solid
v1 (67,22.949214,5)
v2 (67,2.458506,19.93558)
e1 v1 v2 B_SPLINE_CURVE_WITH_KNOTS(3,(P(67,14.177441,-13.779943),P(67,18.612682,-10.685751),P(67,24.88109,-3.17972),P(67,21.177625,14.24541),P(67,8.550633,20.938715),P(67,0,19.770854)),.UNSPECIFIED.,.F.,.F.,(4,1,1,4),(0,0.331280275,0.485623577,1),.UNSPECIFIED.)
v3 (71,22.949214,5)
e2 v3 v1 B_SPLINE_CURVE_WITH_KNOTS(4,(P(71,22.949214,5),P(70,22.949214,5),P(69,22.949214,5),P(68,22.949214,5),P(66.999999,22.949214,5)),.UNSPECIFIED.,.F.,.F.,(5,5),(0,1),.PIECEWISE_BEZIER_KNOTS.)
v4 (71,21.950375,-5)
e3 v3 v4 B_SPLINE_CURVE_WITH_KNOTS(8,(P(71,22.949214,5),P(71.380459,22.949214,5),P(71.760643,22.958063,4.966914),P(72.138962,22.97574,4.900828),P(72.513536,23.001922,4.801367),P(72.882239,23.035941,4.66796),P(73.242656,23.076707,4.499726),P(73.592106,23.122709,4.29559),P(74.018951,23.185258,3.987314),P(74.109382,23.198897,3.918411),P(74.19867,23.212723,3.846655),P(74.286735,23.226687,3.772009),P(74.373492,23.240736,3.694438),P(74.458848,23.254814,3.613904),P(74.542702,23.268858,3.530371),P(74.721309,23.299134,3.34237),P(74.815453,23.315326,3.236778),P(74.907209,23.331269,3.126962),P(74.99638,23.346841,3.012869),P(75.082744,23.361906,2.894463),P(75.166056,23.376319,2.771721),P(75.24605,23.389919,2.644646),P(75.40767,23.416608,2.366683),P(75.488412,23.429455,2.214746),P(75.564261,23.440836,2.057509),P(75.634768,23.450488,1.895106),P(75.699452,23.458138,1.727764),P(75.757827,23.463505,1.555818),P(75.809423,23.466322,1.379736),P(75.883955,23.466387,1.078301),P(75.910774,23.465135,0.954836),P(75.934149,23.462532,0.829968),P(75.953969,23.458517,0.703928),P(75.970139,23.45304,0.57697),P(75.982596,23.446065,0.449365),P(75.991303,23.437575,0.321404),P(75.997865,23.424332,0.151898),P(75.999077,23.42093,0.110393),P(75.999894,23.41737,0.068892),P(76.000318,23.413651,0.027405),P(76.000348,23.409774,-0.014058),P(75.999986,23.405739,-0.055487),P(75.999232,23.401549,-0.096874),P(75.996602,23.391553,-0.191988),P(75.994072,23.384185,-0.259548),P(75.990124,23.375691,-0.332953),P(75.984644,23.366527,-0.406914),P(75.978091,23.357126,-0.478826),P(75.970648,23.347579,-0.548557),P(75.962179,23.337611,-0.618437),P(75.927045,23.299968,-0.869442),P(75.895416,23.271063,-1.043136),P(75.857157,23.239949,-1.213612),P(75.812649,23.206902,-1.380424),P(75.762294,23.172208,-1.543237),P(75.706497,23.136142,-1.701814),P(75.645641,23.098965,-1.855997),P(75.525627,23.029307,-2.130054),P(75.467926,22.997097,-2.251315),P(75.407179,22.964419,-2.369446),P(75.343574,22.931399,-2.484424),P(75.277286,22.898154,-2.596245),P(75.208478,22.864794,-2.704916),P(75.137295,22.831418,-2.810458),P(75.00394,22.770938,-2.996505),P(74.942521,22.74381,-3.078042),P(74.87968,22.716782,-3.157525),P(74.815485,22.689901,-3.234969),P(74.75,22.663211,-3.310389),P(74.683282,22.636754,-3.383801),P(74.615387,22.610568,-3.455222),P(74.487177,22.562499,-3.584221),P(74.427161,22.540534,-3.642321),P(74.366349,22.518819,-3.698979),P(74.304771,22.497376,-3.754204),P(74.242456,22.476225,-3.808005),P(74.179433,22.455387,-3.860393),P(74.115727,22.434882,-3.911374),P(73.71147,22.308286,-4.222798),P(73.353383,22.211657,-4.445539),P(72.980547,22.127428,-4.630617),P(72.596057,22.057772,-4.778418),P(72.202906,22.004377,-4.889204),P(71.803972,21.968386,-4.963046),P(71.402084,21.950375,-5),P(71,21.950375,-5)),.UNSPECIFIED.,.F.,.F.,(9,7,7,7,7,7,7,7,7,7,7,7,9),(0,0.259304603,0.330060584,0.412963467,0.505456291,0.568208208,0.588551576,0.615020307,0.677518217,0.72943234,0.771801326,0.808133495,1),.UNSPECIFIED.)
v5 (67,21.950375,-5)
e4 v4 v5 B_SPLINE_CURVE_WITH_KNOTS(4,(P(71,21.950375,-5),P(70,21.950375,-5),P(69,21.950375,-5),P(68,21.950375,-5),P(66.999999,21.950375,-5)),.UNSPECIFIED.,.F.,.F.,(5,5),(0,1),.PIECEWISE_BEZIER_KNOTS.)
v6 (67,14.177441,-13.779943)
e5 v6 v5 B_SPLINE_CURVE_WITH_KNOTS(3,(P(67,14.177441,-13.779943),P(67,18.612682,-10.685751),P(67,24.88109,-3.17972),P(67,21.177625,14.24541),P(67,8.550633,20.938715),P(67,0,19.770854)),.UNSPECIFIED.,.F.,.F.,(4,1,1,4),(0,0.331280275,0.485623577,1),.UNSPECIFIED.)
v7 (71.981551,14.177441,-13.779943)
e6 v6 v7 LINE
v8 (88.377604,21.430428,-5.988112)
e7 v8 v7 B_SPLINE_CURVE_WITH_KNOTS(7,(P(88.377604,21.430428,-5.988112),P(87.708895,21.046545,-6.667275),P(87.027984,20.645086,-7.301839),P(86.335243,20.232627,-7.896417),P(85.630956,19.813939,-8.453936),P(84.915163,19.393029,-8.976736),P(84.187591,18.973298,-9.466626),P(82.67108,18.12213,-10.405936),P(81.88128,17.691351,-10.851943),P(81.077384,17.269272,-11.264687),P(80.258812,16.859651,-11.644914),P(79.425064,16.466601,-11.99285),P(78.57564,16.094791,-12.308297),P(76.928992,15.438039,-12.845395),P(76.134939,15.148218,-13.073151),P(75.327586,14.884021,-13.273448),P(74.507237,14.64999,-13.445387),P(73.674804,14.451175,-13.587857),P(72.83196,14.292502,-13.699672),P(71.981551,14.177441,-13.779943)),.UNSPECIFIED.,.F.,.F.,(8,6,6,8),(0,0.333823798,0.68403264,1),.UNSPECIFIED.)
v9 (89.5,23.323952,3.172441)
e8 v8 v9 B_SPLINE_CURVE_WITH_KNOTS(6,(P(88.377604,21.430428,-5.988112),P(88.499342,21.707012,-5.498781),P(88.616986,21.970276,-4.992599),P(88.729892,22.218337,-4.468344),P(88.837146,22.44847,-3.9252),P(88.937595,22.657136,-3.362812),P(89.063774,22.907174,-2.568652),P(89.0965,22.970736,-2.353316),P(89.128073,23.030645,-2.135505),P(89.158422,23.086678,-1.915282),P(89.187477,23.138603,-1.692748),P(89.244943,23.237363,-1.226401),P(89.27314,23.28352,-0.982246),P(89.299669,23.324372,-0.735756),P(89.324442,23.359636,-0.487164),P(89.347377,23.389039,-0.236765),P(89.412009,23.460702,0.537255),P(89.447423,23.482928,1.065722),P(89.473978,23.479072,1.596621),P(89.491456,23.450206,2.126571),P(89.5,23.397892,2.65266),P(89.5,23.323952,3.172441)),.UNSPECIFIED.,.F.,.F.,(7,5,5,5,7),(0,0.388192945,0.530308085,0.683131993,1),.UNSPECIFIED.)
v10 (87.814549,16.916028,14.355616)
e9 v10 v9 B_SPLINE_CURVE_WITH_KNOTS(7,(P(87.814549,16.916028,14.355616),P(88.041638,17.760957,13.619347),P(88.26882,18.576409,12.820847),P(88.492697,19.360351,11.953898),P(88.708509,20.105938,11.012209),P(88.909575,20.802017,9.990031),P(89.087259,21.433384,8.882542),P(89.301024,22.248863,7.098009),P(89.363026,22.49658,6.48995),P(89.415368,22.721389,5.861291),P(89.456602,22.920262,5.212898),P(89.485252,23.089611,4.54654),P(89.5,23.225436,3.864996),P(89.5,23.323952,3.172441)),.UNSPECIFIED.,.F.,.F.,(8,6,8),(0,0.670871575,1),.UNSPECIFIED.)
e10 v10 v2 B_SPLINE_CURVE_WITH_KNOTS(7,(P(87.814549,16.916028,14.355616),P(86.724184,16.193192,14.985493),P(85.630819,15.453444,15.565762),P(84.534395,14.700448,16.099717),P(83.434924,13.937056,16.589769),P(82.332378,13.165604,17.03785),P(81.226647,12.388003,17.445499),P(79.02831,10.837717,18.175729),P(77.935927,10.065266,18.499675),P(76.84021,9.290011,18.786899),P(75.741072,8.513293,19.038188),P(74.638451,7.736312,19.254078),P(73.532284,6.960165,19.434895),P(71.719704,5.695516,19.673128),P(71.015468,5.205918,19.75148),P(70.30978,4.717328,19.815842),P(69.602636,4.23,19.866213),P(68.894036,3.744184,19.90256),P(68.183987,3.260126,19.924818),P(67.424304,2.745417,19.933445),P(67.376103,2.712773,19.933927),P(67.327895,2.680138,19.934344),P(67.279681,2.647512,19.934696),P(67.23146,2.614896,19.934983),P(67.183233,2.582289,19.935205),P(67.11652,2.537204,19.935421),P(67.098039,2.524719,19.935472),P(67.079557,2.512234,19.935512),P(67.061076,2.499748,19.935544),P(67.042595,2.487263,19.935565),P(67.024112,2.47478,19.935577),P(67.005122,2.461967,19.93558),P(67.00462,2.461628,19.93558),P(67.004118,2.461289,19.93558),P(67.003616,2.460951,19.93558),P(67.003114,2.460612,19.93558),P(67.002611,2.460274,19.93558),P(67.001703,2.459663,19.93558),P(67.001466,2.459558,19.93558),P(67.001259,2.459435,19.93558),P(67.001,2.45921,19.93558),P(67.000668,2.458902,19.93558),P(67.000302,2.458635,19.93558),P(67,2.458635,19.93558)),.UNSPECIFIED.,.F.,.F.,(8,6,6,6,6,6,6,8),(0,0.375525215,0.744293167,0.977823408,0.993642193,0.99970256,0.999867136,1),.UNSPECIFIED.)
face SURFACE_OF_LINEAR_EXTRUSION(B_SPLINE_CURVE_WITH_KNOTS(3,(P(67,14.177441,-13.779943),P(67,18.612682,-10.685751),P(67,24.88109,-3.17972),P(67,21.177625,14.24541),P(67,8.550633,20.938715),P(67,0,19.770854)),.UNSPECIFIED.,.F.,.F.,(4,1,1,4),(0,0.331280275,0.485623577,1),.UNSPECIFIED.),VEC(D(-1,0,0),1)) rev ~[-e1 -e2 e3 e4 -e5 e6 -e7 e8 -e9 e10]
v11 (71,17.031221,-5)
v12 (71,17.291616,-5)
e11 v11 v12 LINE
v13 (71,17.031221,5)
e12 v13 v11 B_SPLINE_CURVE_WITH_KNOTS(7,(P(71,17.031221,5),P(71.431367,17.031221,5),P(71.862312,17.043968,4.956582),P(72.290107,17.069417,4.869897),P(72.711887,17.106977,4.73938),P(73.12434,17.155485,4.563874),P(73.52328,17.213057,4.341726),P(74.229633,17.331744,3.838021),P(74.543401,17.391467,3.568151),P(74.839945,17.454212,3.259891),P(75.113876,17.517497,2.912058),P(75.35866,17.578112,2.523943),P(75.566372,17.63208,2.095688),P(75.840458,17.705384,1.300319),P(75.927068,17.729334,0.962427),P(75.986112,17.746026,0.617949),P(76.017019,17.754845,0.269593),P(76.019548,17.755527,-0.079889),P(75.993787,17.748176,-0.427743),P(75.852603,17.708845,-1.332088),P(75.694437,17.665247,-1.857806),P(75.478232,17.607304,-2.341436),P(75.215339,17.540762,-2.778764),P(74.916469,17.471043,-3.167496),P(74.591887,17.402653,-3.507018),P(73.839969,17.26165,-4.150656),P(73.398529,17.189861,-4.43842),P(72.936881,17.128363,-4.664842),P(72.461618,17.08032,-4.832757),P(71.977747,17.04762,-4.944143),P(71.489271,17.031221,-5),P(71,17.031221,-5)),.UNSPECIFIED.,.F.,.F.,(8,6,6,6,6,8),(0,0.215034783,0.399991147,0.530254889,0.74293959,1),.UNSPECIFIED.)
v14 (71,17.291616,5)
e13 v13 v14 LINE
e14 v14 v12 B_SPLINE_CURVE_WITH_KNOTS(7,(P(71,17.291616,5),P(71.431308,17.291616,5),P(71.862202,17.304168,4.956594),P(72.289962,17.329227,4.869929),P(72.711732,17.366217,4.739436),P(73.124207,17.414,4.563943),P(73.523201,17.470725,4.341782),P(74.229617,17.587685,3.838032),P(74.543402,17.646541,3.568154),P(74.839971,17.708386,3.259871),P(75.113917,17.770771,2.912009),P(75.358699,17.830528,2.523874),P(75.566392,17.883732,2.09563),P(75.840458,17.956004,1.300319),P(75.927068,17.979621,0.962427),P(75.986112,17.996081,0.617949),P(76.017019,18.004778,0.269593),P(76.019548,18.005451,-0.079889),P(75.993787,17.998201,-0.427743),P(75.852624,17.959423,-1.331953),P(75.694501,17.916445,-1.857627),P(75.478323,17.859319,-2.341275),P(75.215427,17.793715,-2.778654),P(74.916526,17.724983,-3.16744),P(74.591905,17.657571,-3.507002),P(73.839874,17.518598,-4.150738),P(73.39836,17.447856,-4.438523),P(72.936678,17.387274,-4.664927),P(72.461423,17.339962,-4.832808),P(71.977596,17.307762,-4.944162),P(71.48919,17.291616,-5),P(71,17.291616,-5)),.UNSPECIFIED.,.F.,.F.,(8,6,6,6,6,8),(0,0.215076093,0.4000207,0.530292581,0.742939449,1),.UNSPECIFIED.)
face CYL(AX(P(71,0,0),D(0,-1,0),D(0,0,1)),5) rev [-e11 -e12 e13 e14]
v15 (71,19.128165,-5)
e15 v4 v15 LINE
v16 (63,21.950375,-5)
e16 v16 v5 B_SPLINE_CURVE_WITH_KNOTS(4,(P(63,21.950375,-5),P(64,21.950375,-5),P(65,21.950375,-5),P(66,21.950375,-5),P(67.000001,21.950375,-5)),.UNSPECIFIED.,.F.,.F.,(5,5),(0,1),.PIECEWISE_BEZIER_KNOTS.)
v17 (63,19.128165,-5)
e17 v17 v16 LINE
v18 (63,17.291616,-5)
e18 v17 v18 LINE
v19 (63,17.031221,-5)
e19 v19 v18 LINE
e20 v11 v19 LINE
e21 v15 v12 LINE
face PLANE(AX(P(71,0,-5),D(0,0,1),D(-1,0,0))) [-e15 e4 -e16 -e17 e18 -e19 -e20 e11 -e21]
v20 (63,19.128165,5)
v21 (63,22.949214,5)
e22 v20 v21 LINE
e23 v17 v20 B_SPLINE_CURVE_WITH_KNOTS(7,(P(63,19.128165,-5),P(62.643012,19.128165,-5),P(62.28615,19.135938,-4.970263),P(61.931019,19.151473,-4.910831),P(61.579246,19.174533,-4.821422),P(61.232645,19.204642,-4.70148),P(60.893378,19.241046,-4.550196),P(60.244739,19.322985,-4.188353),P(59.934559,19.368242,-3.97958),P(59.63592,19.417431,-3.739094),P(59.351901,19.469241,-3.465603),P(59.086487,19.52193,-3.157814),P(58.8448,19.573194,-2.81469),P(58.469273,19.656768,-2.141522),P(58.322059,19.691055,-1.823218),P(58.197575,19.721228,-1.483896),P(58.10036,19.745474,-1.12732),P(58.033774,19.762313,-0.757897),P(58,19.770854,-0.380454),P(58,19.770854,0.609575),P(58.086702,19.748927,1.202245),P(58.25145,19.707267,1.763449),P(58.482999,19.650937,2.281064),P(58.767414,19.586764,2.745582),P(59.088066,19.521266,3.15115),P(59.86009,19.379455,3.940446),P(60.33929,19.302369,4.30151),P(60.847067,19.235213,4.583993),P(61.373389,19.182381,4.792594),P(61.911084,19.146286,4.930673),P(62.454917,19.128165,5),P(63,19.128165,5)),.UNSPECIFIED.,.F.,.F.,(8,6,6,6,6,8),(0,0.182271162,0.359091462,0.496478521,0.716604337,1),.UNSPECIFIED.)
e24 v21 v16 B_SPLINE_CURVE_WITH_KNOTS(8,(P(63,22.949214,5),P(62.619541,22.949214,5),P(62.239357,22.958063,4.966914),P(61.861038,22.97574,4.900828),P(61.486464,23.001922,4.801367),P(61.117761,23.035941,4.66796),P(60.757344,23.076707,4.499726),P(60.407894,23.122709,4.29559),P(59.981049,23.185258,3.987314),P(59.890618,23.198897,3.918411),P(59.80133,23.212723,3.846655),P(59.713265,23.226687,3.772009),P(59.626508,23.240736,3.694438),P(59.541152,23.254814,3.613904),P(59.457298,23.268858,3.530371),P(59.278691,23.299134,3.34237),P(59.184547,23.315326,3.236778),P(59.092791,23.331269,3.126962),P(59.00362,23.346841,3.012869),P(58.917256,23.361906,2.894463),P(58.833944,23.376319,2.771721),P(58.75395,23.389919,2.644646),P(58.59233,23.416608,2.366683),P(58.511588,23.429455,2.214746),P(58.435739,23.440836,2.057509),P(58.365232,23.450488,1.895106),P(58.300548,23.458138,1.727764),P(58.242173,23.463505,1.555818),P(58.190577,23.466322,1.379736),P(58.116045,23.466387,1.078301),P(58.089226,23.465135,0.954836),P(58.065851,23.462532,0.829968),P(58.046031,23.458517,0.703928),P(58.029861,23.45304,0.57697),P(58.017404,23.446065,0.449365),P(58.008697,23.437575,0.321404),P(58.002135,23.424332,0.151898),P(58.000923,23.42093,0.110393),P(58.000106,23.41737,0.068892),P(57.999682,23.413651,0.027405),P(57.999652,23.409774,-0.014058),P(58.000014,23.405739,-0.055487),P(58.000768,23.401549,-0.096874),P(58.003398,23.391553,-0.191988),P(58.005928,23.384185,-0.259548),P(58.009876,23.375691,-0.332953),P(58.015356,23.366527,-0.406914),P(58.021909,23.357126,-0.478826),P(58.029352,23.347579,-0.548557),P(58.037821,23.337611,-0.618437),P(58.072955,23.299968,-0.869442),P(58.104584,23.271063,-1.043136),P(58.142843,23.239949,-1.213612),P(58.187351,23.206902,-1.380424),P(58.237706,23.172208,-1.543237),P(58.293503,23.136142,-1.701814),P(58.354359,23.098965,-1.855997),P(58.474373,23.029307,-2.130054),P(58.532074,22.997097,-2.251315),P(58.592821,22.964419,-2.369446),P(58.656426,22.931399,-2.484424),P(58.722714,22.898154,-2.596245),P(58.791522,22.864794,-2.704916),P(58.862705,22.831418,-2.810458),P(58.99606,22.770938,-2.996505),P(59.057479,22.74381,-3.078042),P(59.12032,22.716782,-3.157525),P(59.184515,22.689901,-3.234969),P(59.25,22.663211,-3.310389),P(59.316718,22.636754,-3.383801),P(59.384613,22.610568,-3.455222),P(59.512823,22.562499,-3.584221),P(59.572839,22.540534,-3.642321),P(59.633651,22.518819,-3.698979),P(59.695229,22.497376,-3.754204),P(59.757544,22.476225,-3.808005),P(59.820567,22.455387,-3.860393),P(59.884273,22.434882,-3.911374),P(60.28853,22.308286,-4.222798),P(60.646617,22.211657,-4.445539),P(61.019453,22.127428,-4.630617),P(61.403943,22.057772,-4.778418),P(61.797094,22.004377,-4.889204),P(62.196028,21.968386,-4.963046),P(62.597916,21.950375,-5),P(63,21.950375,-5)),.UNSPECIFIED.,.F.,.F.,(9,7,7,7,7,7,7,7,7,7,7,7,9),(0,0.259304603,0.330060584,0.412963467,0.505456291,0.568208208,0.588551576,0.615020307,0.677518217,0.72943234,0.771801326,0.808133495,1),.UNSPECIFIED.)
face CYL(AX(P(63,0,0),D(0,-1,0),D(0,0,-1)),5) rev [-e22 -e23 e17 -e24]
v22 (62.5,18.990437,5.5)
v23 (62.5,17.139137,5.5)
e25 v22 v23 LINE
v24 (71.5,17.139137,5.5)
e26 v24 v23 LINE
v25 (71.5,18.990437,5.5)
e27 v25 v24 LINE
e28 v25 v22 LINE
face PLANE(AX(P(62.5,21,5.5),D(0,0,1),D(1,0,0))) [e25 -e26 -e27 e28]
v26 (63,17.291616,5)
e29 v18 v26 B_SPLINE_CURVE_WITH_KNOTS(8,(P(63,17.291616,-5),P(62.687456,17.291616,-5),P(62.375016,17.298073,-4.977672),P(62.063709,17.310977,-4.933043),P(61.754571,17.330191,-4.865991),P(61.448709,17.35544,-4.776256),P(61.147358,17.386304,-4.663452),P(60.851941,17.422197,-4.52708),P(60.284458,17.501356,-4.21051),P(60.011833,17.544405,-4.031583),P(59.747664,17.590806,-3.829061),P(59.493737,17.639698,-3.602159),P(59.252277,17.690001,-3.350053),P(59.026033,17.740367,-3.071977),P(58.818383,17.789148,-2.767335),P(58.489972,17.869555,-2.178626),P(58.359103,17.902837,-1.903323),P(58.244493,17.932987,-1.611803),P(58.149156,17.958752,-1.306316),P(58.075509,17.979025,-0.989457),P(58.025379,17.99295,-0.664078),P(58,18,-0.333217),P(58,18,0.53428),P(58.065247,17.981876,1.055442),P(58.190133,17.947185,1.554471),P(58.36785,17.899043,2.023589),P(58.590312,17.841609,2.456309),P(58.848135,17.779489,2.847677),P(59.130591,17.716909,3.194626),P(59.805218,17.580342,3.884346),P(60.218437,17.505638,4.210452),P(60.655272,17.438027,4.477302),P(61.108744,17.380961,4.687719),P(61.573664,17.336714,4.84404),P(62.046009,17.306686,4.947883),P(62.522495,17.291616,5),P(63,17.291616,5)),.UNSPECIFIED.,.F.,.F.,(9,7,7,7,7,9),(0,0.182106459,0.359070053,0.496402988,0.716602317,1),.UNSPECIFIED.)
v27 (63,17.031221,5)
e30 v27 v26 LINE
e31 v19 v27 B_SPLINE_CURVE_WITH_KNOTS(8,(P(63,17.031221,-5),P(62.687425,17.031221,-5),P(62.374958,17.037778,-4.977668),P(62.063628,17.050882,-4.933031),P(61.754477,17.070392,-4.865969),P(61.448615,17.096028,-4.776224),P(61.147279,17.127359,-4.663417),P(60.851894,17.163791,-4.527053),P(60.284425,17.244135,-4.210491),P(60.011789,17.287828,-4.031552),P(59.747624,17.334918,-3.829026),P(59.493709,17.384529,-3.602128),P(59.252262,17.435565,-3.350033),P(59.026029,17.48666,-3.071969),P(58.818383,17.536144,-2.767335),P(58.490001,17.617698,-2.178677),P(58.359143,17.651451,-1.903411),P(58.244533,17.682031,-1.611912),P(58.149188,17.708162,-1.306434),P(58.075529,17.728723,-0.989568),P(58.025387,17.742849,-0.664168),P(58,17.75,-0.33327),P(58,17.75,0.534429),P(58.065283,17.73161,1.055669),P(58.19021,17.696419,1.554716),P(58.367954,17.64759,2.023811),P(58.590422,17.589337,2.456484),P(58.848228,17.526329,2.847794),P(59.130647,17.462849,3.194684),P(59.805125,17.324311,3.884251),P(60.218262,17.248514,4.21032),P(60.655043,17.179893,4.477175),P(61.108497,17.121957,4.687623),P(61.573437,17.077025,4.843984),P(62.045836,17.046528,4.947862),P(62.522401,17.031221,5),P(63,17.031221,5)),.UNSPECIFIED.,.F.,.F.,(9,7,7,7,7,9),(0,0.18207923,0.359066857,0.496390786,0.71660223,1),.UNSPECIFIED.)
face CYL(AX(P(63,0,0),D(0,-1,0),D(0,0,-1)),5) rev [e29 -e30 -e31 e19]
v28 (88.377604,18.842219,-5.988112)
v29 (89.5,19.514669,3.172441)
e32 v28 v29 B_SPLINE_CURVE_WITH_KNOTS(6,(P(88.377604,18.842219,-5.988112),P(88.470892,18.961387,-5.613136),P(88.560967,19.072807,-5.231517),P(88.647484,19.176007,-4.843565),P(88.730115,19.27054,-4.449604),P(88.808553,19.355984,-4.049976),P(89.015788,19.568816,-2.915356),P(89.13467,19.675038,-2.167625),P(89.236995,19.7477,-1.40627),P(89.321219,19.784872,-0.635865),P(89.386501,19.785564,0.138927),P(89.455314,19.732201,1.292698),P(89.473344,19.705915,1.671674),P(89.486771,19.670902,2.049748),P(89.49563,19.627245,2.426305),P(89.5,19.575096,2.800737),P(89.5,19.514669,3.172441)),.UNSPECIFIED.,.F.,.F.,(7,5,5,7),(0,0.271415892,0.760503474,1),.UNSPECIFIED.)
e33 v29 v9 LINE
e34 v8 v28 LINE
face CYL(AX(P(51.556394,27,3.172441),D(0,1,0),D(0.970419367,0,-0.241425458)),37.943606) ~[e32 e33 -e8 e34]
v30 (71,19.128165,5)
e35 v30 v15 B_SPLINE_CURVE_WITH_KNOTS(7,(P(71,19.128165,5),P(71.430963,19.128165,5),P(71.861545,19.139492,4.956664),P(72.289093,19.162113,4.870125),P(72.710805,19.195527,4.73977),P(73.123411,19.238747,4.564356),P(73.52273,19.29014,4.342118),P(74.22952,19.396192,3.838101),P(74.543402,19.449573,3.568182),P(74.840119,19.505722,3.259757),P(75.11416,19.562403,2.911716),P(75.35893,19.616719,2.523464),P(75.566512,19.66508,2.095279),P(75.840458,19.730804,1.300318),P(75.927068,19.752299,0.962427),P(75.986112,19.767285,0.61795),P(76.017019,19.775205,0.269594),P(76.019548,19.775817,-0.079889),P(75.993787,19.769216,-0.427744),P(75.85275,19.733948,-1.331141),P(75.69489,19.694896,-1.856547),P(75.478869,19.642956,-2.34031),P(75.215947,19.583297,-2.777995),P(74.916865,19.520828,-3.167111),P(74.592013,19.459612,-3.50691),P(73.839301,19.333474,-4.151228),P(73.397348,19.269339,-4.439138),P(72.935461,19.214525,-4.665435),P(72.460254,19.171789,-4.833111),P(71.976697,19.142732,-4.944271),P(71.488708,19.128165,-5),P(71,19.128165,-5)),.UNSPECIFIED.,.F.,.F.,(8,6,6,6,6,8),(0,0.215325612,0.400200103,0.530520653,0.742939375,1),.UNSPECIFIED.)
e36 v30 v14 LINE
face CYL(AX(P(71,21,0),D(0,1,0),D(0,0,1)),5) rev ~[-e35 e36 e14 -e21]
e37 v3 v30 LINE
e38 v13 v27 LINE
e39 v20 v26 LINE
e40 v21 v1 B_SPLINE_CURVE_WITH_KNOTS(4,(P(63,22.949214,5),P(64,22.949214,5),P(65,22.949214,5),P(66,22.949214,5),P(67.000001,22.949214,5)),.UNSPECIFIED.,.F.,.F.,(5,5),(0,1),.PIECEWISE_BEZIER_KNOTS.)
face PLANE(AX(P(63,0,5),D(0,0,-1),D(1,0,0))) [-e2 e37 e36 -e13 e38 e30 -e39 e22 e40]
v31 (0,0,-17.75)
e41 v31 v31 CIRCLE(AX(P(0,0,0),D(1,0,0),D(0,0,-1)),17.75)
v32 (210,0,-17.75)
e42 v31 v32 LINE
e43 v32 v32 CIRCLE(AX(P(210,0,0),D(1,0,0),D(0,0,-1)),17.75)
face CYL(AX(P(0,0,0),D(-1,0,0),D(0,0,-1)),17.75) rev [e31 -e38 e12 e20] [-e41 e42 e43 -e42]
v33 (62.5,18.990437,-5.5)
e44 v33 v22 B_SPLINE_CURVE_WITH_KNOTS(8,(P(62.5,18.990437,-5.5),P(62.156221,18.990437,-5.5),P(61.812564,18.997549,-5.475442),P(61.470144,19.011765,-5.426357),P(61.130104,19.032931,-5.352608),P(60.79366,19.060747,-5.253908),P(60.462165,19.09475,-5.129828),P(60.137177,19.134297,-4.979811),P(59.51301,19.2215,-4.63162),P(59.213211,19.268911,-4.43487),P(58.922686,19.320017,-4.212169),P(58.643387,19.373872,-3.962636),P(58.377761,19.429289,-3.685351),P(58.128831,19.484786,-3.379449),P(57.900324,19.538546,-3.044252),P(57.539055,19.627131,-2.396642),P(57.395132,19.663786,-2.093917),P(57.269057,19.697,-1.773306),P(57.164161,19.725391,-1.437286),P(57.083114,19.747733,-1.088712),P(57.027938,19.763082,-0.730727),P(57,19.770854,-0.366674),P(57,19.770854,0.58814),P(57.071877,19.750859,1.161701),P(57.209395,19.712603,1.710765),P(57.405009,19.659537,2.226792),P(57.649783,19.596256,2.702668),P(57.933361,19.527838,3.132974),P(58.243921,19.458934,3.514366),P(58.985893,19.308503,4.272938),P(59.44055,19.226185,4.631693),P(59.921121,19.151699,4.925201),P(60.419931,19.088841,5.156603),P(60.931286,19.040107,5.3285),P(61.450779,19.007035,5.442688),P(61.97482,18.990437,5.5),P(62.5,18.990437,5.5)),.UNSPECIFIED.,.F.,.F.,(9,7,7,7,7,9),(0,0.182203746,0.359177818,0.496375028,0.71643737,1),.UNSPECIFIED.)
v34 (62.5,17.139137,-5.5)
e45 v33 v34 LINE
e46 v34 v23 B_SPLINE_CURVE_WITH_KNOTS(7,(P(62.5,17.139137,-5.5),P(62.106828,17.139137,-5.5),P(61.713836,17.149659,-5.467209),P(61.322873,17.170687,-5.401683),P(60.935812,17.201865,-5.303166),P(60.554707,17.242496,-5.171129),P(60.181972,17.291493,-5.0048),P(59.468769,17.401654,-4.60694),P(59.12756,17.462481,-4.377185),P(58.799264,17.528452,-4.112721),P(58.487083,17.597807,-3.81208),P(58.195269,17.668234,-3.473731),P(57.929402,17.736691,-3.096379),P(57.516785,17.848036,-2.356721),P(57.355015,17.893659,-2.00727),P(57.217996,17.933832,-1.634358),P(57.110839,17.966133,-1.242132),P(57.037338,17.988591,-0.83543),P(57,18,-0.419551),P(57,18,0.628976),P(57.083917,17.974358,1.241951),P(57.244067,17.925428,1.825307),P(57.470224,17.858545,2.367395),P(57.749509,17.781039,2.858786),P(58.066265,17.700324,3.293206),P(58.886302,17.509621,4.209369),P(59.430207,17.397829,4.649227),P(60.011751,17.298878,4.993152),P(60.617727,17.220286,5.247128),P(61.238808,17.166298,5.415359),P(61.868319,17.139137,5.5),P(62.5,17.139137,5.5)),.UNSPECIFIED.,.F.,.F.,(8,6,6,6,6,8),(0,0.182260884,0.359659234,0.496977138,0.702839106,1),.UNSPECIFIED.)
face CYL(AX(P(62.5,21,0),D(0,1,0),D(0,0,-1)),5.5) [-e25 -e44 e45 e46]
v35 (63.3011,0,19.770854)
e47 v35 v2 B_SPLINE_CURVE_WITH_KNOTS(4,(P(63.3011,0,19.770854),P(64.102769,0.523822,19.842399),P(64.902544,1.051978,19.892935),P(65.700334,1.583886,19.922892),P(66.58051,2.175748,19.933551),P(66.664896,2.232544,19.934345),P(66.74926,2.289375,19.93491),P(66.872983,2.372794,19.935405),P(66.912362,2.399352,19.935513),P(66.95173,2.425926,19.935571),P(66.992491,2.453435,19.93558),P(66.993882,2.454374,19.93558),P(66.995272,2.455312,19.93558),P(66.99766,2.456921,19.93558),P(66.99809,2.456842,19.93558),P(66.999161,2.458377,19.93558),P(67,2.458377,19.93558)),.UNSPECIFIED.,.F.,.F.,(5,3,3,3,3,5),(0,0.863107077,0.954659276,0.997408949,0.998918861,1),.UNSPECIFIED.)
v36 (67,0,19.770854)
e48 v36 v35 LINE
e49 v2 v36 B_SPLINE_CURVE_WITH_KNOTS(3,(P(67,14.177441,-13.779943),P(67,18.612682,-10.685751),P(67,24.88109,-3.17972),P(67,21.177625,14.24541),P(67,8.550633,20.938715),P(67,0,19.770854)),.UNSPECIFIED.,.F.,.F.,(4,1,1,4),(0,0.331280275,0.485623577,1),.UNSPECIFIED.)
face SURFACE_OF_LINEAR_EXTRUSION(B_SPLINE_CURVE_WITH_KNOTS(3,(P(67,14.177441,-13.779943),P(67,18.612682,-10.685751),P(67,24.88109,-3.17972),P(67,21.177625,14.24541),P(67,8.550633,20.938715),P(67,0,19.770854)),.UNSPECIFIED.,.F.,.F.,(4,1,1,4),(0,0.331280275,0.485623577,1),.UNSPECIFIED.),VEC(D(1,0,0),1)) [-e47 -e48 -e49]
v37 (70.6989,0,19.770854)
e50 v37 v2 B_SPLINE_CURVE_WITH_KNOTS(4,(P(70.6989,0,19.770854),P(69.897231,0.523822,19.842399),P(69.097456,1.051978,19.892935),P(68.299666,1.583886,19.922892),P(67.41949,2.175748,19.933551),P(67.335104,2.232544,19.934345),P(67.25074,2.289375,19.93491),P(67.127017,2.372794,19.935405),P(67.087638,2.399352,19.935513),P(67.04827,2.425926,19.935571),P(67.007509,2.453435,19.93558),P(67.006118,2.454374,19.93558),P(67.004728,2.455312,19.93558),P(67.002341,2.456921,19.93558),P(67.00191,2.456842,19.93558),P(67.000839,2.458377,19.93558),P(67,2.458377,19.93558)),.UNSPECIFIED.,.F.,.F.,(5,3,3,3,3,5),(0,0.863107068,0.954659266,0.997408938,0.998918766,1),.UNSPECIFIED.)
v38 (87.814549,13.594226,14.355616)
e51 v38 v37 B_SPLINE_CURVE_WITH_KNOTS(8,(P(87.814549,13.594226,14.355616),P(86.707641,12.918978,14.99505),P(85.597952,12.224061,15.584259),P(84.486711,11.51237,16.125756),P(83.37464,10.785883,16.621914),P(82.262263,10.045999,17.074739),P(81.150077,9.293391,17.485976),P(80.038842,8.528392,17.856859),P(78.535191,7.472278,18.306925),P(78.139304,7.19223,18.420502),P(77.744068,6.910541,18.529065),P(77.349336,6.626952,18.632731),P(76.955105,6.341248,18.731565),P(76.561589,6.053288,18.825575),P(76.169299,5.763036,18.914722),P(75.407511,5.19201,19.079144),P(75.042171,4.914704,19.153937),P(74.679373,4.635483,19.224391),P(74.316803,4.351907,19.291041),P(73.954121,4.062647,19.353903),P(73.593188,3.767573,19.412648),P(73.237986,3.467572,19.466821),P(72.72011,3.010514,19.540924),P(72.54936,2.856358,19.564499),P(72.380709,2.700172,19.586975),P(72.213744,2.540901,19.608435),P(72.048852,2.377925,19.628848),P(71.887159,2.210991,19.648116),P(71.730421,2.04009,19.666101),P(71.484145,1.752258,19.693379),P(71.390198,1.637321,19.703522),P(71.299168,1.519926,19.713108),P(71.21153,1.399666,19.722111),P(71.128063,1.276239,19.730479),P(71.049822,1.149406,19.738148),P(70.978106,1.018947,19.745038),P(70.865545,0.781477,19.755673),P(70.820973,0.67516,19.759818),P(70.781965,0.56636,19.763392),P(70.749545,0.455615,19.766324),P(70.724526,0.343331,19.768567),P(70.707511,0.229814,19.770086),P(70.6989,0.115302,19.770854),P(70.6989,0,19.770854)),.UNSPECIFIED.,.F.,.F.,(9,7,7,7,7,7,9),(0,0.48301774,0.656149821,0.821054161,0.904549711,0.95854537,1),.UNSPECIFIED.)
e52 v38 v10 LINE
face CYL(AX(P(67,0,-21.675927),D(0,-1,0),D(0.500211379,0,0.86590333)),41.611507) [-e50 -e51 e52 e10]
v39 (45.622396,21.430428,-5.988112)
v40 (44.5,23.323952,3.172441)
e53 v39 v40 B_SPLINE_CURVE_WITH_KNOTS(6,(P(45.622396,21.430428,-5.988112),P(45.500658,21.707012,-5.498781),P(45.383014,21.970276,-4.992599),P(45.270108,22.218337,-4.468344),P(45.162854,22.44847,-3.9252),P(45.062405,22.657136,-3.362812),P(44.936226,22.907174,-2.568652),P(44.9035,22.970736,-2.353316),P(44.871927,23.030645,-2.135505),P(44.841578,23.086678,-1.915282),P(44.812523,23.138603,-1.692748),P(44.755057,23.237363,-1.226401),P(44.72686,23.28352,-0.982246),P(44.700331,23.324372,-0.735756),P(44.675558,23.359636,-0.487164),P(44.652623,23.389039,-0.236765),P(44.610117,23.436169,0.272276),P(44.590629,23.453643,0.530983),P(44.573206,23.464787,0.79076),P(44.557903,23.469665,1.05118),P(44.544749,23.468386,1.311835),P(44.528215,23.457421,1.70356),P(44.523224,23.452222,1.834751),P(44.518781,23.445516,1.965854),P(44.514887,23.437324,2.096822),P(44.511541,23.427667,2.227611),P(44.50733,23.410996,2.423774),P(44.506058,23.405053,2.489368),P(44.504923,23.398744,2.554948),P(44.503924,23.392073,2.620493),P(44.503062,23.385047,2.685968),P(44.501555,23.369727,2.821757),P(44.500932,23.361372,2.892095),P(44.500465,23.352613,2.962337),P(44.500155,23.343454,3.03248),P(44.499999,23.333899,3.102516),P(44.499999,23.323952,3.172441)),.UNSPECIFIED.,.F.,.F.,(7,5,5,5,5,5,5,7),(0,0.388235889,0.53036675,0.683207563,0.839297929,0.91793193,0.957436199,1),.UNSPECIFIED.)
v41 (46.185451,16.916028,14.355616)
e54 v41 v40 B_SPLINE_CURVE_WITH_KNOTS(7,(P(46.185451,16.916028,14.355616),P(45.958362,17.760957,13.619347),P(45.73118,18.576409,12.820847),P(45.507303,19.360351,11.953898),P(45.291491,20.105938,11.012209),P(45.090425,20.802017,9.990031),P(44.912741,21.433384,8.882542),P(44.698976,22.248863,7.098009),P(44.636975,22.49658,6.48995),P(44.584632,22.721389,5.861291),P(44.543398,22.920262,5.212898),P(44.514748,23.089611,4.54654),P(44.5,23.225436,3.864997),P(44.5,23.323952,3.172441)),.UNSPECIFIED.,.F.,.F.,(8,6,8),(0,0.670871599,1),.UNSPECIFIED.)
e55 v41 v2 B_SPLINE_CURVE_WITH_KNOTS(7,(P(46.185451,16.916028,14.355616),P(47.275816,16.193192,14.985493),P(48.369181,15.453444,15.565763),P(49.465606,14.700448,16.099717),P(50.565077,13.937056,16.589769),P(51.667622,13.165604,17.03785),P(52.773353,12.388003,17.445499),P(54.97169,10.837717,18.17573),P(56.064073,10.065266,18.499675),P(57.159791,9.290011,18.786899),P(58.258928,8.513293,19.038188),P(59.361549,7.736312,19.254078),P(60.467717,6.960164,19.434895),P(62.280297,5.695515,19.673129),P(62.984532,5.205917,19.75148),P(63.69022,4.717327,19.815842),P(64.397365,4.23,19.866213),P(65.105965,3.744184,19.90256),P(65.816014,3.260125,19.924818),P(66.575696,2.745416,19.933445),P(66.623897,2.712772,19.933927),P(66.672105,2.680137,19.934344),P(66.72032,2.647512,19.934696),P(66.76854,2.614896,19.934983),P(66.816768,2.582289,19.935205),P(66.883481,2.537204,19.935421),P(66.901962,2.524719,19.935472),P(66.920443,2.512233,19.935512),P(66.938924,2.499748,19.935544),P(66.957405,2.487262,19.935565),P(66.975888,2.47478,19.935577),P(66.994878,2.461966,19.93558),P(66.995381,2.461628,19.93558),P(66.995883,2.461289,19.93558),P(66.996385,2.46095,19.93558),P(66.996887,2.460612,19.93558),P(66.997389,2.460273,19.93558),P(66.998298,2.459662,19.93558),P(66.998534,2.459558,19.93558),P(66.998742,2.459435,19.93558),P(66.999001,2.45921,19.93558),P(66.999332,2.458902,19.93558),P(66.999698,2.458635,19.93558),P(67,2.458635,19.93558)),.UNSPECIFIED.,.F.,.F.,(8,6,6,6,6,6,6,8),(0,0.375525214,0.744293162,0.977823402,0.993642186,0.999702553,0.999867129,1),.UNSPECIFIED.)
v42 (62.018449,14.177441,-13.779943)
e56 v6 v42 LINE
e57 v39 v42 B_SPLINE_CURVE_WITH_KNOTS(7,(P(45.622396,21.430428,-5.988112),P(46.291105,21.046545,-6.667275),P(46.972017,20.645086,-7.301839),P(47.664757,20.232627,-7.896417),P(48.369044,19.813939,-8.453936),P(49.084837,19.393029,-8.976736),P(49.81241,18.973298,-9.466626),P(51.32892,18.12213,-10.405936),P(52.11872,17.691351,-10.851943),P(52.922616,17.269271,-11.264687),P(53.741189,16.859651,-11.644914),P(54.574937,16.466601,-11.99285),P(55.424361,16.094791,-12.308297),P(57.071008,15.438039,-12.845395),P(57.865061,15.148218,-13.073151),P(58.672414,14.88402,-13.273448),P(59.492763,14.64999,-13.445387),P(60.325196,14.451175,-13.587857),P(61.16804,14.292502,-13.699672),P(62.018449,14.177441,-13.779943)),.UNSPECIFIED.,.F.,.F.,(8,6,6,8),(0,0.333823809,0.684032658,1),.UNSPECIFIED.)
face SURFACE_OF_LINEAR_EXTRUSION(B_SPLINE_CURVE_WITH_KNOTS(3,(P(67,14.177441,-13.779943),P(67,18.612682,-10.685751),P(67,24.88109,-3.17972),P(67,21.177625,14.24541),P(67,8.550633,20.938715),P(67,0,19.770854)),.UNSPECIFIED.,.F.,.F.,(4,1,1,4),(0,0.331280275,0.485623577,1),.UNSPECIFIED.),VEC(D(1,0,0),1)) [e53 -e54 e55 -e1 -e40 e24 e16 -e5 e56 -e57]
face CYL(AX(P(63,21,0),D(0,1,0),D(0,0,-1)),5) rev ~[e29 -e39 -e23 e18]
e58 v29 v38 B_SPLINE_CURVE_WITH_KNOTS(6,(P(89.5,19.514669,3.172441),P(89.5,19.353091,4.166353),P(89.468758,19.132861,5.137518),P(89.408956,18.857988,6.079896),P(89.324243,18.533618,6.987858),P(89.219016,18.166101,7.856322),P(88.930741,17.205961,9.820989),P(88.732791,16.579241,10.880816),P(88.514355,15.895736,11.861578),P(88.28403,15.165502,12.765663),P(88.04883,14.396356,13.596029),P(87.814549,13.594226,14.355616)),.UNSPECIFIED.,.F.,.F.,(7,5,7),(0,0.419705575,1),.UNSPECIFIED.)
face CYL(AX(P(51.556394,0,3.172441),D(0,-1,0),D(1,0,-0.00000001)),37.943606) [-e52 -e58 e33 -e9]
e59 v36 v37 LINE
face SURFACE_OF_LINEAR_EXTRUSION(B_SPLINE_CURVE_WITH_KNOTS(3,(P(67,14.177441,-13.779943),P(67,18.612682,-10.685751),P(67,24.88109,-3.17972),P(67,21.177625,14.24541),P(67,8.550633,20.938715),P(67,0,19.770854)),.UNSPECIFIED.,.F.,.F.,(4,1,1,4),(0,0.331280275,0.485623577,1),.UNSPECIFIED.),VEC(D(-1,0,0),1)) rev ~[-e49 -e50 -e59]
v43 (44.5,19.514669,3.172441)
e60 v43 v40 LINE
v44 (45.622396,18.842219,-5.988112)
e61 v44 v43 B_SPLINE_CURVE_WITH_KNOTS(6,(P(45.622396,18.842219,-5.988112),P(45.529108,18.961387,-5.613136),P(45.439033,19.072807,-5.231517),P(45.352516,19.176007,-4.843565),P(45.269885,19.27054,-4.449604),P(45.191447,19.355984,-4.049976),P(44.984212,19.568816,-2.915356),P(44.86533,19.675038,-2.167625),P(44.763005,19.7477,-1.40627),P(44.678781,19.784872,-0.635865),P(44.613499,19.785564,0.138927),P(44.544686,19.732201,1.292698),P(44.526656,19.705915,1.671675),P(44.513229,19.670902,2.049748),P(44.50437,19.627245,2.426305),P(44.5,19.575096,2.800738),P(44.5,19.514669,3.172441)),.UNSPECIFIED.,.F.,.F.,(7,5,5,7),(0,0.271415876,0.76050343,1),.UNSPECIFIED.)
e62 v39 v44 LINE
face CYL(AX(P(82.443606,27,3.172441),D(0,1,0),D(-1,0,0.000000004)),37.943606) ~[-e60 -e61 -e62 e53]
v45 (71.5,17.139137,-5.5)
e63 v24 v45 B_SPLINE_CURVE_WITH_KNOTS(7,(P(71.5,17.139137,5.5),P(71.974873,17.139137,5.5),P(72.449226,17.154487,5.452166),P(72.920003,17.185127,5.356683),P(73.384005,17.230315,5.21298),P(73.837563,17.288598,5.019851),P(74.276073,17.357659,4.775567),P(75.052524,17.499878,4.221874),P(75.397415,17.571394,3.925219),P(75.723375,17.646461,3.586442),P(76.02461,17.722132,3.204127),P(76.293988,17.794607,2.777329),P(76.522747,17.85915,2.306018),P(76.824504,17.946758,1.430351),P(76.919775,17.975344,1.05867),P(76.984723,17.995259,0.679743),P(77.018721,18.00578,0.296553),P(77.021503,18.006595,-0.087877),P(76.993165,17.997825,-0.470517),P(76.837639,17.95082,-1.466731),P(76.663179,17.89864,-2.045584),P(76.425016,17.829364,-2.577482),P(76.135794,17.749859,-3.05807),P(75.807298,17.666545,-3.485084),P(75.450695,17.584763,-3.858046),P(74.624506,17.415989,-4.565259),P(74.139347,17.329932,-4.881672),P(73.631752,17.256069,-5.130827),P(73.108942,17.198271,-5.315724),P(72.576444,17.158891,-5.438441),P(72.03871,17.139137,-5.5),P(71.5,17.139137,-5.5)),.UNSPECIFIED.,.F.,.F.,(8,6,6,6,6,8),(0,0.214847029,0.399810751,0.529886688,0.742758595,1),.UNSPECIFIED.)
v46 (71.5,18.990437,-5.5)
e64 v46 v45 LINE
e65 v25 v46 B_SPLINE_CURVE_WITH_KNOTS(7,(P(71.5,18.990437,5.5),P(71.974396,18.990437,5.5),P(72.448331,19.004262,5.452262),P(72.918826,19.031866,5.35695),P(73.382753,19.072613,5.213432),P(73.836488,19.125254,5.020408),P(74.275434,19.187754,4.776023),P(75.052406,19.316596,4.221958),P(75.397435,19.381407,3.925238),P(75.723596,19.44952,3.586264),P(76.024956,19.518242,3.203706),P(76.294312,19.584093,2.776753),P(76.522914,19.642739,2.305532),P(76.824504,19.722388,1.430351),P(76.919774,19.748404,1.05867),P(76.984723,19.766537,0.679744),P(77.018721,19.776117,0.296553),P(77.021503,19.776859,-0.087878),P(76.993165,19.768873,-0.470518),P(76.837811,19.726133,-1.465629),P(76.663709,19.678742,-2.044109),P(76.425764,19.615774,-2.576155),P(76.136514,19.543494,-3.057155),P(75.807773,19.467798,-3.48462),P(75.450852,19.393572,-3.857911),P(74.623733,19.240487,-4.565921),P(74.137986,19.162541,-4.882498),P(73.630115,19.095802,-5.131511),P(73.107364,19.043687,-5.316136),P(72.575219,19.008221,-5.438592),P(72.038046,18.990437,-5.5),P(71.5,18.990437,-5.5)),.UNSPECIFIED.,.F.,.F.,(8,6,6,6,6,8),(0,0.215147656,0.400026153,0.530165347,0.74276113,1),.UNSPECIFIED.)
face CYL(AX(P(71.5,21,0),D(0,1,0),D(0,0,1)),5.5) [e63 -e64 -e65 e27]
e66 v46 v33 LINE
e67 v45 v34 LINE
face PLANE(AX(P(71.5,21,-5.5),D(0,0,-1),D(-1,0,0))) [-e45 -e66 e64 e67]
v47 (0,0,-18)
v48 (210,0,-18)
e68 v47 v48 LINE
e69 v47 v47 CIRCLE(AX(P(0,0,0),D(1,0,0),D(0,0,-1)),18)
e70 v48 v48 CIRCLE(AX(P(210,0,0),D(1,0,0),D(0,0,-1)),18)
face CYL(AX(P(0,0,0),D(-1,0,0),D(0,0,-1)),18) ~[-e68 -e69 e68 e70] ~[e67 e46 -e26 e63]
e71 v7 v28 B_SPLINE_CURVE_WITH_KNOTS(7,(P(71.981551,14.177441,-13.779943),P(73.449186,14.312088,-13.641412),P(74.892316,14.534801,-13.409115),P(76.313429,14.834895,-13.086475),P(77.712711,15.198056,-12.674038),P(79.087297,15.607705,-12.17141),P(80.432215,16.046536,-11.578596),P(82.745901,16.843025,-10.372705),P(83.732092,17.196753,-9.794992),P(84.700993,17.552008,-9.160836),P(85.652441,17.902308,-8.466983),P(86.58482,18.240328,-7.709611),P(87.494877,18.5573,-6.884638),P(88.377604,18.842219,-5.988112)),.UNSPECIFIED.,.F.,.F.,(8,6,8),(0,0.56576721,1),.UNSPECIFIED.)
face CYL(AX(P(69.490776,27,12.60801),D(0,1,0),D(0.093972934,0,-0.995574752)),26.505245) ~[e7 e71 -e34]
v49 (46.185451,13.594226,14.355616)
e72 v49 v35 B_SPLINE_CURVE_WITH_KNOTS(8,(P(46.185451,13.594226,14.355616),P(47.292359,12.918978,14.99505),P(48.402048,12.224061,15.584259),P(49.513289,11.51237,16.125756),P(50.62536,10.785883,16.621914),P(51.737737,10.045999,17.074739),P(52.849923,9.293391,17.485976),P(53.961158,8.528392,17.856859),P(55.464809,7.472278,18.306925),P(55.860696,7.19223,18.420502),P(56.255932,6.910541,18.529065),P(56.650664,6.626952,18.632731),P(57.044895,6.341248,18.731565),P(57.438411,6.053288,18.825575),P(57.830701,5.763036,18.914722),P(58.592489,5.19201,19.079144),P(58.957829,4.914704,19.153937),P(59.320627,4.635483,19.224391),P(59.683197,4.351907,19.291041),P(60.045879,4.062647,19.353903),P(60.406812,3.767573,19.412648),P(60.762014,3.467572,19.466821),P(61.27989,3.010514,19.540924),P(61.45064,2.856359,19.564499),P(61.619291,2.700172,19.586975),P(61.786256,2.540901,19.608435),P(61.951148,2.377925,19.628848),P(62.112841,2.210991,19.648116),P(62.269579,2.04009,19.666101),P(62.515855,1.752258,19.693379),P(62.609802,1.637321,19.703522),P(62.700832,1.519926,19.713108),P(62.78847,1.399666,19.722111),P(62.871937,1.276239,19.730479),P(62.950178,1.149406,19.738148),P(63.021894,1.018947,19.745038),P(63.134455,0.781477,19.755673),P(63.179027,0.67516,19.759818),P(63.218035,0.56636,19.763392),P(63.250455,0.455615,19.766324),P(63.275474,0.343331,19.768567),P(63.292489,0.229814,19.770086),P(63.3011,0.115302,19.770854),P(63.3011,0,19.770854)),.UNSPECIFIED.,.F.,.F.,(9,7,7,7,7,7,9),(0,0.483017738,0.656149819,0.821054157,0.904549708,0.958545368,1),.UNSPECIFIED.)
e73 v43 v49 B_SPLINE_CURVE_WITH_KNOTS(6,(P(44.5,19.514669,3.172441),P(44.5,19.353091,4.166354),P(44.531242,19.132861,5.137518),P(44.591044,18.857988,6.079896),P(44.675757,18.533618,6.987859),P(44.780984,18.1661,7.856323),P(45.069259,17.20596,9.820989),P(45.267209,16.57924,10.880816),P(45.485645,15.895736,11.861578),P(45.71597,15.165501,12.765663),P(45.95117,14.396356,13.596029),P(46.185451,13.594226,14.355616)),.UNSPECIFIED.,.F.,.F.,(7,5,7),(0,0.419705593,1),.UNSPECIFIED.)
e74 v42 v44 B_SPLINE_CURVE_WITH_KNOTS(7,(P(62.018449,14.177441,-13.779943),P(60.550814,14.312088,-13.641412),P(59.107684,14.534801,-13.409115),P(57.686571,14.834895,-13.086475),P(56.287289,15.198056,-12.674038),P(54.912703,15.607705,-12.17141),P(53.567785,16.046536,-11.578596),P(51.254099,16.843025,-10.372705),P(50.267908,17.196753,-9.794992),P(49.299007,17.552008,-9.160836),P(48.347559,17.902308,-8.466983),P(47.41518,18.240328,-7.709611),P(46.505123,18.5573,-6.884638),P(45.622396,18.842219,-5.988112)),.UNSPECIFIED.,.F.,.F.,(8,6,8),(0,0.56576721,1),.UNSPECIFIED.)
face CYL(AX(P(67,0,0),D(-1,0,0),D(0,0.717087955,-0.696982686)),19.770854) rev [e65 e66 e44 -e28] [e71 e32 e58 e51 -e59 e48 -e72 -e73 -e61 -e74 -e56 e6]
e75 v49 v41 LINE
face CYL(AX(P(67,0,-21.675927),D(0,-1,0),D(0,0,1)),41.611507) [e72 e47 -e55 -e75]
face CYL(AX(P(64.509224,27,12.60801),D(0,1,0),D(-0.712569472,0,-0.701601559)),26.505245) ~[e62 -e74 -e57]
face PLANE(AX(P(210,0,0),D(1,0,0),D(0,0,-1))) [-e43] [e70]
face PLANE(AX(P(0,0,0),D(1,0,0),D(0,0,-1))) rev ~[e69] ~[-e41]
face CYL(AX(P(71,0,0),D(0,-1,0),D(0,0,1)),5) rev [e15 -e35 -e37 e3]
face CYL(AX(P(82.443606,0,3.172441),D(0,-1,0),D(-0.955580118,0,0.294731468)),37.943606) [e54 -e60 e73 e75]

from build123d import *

# Parameters (mm, degrees)
SKETCH1_R                = 18
SKETCH1_R_2              = 17.75
BOSS_EXTRUDE1_DEPTH      = 210
BOSS_EXTRUDE2_DEPTH      = 22.5
CUT_EXTRUDE2_DEPTH       = 213.245370912
CUT_EXTRUDE12_START      = -27
CUT_EXTRUDE12_DEPTH      = 23.323952
CUT_EXTRUDE13_REACH      = 217.691
CUT_EXTRUDE13_END_RADIUS = 19.770854308
BOSS_EXTRUDE3_REACH      = 235.245
BOSS_EXTRUDE3_END_RADIUS = 18
BOSS_EXTRUDE3_START      = 21


with BuildPart() as part:
    # Sketch1 → Boss-Extrude1 (new body)
    with BuildSketch(Plane(origin=(0, 0, 0), x_dir=(0, 0, -1), z_dir=(1, 0, 0))):
        Circle(SKETCH1_R)
        Circle(SKETCH1_R_2, mode=Mode.SUBTRACT)
    extrude(amount=BOSS_EXTRUDE1_DEPTH)


with BuildPart() as body_2:
    # Sketch4 → Boss-Extrude2 (new, symmetric)
    with BuildSketch(Plane.ZY.offset(-67)):
        with BuildLine():
            ThreePointArc((-13.779943134, 14.177441493), (7.695629669, 18.21164364), (19.770854308, 0))
            add(Edge.make_bspline(
                [(-13.779943134, 14.177441493), (-10.685751008, 18.612681967), (-3.179720318, 24.881089629), (14.245409909, 21.177624873), (20.93871501, 8.550633365), (19.770854308, 0)],
                knots=[0, 0, 0, 0, 0.331280275, 0.485623577, 1, 1, 1, 1], degree=3))
        make_face()
    extrude(amount=BOSS_EXTRUDE2_DEPTH, both=True)


with BuildPart() as cut_extrude2_tool:
    # Sketch2 → Cut-Extrude2 (new, through all)
    with BuildSketch(Plane(origin=(0, 0, 0), x_dir=(1, 0, 0), z_dir=(0, 1, 0))):
        with BuildLine():
            Line((63, -5), (71, -5))
            ThreePointArc((71, -5), (76, 0), (71, 5))
            Line((71, 5), (63, 5))
            ThreePointArc((63, 5), (58, 0), (63, -5))
        make_face()
    extrude(amount=CUT_EXTRUDE2_DEPTH)


with BuildPart() as part_1:
    add(part.part)

    # Cut-Extrude2: cut by cut_extrude2_tool
    add(cut_extrude2_tool.part, mode=Mode.SUBTRACT)



with BuildPart() as body_2_1:
    add(body_2.part)

    # Cut-Extrude2: cut by cut_extrude2_tool
    add(cut_extrude2_tool.part, mode=Mode.SUBTRACT)

    # Sketch7 → Cut-Extrude12 (cut)
    with BuildSketch(Plane(origin=(0, 27, 0), x_dir=(1, 0, 0), z_dir=(0, 1, 0)).offset(CUT_EXTRUDE12_START)):
        with BuildLine():
            ThreePointArc((46.185450517, -14.355615707), (44.923728597, -8.827176662), (44.5, -3.172441075))
            Line((44.5, -3.172441075), (44.5, -19.93558029))
            Line((44.5, -19.93558029), (67, -19.93558029))
            ThreePointArc((67, -19.93558029), (56.225243913, -18.516387819), (46.185450517, -14.355615707))
        make_face()
        with BuildLine():
            ThreePointArc((87.814549483, -14.355615707), (77.774756087, -18.516387819), (67, -19.93558029))
            Line((67, -19.93558029), (89.5, -19.93558029))
            Line((89.5, -19.93558029), (89.5, -3.172440538))
            ThreePointArc((89.5, -3.172440538), (89.076271443, -8.827176396), (87.814549483, -14.355615707))
        make_face()
    extrude(amount=CUT_EXTRUDE12_DEPTH, mode=Mode.SUBTRACT)

    # Cut-Extrude13: up to this cylinder (the profile starts outside it)
    cut_extrude13_end = Plane(origin=(67, 0, 0), z_dir=(1, 0, 0)) * Cylinder(CUT_EXTRUDE13_END_RADIUS, 512.063876616, mode=Mode.PRIVATE)
    # Sketch7<4> → Cut-Extrude13 (cut, up to the surface)
    with BuildSketch(Plane(origin=(0, 27, 0), x_dir=(1, 0, 0), z_dir=(0, 1, 0)), mode=Mode.PRIVATE) as cut_extrude13_sk1:
        with BuildLine():
            Line((62.018448737, 13.779943134), (44.5, 13.779943134))
            Line((44.5, 13.779943134), (44.5, -3.172441075))
            ThreePointArc((44.5, -3.172441075), (44.781644245, 1.442087549), (45.622395888, 5.98811159))
            ThreePointArc((45.622395888, 5.98811159), (53.132553103, 11.331484209), (62.018448737, 13.779943134))
        make_face()
    cut_extrude13_tool1 = extrude(cut_extrude13_sk1.sketch, amount=-CUT_EXTRUDE13_REACH, mode=Mode.PRIVATE) - cut_extrude13_end
    add(cut_extrude13_tool1.solids().sort_by_distance((48.929916, 27, -10.778916))[0], mode=Mode.SUBTRACT)
    # Sketch7<4> → Cut-Extrude13 (cut, up to the surface)
    with BuildSketch(Plane(origin=(0, 27, 0), x_dir=(1, 0, 0), z_dir=(0, 1, 0)), mode=Mode.PRIVATE) as cut_extrude13_sk2:
        with BuildLine():
            Line((89.5, 13.779943134), (71.981551263, 13.779943134))
            ThreePointArc((71.981551263, 13.779943134), (80.867446897, 11.331484209), (88.377604112, 5.98811159))
            ThreePointArc((88.377604112, 5.98811159), (89.218355722, 1.442087815), (89.5, -3.172440538))
            Line((89.5, -3.172440538), (89.5, 13.779943134))
        make_face()
    cut_extrude13_tool2 = extrude(cut_extrude13_sk2.sketch, amount=-CUT_EXTRUDE13_REACH, mode=Mode.PRIVATE) - cut_extrude13_end
    add(cut_extrude13_tool2.solids().sort_by_distance((85.070084, 27, -10.778916))[0], mode=Mode.SUBTRACT)


with BuildPart() as part_2:
    add(part_1.part)

    add(body_2_1.part)  # Boss-Extrude3 merges body 2
    # Boss-Extrude3: up to this cylinder (the profile starts outside it)
    boss_extrude3_end = Plane(origin=(67, 0, 0), z_dir=(-1, 0, 0)) * Cylinder(BOSS_EXTRUDE3_END_RADIUS, 507.49, mode=Mode.PRIVATE)
    # Sketch2<3> → Boss-Extrude3 (add, up to the surface)
    with BuildSketch(Plane(origin=(0, 0, 0), x_dir=(1, 0, 0), z_dir=(0, 1, 0)).offset(BOSS_EXTRUDE3_START), mode=Mode.PRIVATE) as boss_extrude3_sk1:
        with BuildLine():
            Line((62.5, -5.5), (71.5, -5.5))
            ThreePointArc((71.5, -5.5), (77, 0), (71.5, 5.5))
            Line((71.5, 5.5), (62.5, 5.5))
            ThreePointArc((62.5, 5.5), (57, 0), (62.5, -5.5))
        make_face()
        with BuildLine():
            ThreePointArc((71, -5), (76, 0), (71, 5))
            Line((71, 5), (63, 5))
            ThreePointArc((63, 5), (58, 0), (63, -5))
            Line((63, -5), (71, -5))
        make_face(mode=Mode.SUBTRACT)
    boss_extrude3_tool1 = extrude(boss_extrude3_sk1.sketch, amount=-BOSS_EXTRUDE3_REACH, mode=Mode.PRIVATE) - boss_extrude3_end
    add(boss_extrude3_tool1.solids().sort_by_distance((67, 21, 5.271746))[0])


solid = part_2.part
